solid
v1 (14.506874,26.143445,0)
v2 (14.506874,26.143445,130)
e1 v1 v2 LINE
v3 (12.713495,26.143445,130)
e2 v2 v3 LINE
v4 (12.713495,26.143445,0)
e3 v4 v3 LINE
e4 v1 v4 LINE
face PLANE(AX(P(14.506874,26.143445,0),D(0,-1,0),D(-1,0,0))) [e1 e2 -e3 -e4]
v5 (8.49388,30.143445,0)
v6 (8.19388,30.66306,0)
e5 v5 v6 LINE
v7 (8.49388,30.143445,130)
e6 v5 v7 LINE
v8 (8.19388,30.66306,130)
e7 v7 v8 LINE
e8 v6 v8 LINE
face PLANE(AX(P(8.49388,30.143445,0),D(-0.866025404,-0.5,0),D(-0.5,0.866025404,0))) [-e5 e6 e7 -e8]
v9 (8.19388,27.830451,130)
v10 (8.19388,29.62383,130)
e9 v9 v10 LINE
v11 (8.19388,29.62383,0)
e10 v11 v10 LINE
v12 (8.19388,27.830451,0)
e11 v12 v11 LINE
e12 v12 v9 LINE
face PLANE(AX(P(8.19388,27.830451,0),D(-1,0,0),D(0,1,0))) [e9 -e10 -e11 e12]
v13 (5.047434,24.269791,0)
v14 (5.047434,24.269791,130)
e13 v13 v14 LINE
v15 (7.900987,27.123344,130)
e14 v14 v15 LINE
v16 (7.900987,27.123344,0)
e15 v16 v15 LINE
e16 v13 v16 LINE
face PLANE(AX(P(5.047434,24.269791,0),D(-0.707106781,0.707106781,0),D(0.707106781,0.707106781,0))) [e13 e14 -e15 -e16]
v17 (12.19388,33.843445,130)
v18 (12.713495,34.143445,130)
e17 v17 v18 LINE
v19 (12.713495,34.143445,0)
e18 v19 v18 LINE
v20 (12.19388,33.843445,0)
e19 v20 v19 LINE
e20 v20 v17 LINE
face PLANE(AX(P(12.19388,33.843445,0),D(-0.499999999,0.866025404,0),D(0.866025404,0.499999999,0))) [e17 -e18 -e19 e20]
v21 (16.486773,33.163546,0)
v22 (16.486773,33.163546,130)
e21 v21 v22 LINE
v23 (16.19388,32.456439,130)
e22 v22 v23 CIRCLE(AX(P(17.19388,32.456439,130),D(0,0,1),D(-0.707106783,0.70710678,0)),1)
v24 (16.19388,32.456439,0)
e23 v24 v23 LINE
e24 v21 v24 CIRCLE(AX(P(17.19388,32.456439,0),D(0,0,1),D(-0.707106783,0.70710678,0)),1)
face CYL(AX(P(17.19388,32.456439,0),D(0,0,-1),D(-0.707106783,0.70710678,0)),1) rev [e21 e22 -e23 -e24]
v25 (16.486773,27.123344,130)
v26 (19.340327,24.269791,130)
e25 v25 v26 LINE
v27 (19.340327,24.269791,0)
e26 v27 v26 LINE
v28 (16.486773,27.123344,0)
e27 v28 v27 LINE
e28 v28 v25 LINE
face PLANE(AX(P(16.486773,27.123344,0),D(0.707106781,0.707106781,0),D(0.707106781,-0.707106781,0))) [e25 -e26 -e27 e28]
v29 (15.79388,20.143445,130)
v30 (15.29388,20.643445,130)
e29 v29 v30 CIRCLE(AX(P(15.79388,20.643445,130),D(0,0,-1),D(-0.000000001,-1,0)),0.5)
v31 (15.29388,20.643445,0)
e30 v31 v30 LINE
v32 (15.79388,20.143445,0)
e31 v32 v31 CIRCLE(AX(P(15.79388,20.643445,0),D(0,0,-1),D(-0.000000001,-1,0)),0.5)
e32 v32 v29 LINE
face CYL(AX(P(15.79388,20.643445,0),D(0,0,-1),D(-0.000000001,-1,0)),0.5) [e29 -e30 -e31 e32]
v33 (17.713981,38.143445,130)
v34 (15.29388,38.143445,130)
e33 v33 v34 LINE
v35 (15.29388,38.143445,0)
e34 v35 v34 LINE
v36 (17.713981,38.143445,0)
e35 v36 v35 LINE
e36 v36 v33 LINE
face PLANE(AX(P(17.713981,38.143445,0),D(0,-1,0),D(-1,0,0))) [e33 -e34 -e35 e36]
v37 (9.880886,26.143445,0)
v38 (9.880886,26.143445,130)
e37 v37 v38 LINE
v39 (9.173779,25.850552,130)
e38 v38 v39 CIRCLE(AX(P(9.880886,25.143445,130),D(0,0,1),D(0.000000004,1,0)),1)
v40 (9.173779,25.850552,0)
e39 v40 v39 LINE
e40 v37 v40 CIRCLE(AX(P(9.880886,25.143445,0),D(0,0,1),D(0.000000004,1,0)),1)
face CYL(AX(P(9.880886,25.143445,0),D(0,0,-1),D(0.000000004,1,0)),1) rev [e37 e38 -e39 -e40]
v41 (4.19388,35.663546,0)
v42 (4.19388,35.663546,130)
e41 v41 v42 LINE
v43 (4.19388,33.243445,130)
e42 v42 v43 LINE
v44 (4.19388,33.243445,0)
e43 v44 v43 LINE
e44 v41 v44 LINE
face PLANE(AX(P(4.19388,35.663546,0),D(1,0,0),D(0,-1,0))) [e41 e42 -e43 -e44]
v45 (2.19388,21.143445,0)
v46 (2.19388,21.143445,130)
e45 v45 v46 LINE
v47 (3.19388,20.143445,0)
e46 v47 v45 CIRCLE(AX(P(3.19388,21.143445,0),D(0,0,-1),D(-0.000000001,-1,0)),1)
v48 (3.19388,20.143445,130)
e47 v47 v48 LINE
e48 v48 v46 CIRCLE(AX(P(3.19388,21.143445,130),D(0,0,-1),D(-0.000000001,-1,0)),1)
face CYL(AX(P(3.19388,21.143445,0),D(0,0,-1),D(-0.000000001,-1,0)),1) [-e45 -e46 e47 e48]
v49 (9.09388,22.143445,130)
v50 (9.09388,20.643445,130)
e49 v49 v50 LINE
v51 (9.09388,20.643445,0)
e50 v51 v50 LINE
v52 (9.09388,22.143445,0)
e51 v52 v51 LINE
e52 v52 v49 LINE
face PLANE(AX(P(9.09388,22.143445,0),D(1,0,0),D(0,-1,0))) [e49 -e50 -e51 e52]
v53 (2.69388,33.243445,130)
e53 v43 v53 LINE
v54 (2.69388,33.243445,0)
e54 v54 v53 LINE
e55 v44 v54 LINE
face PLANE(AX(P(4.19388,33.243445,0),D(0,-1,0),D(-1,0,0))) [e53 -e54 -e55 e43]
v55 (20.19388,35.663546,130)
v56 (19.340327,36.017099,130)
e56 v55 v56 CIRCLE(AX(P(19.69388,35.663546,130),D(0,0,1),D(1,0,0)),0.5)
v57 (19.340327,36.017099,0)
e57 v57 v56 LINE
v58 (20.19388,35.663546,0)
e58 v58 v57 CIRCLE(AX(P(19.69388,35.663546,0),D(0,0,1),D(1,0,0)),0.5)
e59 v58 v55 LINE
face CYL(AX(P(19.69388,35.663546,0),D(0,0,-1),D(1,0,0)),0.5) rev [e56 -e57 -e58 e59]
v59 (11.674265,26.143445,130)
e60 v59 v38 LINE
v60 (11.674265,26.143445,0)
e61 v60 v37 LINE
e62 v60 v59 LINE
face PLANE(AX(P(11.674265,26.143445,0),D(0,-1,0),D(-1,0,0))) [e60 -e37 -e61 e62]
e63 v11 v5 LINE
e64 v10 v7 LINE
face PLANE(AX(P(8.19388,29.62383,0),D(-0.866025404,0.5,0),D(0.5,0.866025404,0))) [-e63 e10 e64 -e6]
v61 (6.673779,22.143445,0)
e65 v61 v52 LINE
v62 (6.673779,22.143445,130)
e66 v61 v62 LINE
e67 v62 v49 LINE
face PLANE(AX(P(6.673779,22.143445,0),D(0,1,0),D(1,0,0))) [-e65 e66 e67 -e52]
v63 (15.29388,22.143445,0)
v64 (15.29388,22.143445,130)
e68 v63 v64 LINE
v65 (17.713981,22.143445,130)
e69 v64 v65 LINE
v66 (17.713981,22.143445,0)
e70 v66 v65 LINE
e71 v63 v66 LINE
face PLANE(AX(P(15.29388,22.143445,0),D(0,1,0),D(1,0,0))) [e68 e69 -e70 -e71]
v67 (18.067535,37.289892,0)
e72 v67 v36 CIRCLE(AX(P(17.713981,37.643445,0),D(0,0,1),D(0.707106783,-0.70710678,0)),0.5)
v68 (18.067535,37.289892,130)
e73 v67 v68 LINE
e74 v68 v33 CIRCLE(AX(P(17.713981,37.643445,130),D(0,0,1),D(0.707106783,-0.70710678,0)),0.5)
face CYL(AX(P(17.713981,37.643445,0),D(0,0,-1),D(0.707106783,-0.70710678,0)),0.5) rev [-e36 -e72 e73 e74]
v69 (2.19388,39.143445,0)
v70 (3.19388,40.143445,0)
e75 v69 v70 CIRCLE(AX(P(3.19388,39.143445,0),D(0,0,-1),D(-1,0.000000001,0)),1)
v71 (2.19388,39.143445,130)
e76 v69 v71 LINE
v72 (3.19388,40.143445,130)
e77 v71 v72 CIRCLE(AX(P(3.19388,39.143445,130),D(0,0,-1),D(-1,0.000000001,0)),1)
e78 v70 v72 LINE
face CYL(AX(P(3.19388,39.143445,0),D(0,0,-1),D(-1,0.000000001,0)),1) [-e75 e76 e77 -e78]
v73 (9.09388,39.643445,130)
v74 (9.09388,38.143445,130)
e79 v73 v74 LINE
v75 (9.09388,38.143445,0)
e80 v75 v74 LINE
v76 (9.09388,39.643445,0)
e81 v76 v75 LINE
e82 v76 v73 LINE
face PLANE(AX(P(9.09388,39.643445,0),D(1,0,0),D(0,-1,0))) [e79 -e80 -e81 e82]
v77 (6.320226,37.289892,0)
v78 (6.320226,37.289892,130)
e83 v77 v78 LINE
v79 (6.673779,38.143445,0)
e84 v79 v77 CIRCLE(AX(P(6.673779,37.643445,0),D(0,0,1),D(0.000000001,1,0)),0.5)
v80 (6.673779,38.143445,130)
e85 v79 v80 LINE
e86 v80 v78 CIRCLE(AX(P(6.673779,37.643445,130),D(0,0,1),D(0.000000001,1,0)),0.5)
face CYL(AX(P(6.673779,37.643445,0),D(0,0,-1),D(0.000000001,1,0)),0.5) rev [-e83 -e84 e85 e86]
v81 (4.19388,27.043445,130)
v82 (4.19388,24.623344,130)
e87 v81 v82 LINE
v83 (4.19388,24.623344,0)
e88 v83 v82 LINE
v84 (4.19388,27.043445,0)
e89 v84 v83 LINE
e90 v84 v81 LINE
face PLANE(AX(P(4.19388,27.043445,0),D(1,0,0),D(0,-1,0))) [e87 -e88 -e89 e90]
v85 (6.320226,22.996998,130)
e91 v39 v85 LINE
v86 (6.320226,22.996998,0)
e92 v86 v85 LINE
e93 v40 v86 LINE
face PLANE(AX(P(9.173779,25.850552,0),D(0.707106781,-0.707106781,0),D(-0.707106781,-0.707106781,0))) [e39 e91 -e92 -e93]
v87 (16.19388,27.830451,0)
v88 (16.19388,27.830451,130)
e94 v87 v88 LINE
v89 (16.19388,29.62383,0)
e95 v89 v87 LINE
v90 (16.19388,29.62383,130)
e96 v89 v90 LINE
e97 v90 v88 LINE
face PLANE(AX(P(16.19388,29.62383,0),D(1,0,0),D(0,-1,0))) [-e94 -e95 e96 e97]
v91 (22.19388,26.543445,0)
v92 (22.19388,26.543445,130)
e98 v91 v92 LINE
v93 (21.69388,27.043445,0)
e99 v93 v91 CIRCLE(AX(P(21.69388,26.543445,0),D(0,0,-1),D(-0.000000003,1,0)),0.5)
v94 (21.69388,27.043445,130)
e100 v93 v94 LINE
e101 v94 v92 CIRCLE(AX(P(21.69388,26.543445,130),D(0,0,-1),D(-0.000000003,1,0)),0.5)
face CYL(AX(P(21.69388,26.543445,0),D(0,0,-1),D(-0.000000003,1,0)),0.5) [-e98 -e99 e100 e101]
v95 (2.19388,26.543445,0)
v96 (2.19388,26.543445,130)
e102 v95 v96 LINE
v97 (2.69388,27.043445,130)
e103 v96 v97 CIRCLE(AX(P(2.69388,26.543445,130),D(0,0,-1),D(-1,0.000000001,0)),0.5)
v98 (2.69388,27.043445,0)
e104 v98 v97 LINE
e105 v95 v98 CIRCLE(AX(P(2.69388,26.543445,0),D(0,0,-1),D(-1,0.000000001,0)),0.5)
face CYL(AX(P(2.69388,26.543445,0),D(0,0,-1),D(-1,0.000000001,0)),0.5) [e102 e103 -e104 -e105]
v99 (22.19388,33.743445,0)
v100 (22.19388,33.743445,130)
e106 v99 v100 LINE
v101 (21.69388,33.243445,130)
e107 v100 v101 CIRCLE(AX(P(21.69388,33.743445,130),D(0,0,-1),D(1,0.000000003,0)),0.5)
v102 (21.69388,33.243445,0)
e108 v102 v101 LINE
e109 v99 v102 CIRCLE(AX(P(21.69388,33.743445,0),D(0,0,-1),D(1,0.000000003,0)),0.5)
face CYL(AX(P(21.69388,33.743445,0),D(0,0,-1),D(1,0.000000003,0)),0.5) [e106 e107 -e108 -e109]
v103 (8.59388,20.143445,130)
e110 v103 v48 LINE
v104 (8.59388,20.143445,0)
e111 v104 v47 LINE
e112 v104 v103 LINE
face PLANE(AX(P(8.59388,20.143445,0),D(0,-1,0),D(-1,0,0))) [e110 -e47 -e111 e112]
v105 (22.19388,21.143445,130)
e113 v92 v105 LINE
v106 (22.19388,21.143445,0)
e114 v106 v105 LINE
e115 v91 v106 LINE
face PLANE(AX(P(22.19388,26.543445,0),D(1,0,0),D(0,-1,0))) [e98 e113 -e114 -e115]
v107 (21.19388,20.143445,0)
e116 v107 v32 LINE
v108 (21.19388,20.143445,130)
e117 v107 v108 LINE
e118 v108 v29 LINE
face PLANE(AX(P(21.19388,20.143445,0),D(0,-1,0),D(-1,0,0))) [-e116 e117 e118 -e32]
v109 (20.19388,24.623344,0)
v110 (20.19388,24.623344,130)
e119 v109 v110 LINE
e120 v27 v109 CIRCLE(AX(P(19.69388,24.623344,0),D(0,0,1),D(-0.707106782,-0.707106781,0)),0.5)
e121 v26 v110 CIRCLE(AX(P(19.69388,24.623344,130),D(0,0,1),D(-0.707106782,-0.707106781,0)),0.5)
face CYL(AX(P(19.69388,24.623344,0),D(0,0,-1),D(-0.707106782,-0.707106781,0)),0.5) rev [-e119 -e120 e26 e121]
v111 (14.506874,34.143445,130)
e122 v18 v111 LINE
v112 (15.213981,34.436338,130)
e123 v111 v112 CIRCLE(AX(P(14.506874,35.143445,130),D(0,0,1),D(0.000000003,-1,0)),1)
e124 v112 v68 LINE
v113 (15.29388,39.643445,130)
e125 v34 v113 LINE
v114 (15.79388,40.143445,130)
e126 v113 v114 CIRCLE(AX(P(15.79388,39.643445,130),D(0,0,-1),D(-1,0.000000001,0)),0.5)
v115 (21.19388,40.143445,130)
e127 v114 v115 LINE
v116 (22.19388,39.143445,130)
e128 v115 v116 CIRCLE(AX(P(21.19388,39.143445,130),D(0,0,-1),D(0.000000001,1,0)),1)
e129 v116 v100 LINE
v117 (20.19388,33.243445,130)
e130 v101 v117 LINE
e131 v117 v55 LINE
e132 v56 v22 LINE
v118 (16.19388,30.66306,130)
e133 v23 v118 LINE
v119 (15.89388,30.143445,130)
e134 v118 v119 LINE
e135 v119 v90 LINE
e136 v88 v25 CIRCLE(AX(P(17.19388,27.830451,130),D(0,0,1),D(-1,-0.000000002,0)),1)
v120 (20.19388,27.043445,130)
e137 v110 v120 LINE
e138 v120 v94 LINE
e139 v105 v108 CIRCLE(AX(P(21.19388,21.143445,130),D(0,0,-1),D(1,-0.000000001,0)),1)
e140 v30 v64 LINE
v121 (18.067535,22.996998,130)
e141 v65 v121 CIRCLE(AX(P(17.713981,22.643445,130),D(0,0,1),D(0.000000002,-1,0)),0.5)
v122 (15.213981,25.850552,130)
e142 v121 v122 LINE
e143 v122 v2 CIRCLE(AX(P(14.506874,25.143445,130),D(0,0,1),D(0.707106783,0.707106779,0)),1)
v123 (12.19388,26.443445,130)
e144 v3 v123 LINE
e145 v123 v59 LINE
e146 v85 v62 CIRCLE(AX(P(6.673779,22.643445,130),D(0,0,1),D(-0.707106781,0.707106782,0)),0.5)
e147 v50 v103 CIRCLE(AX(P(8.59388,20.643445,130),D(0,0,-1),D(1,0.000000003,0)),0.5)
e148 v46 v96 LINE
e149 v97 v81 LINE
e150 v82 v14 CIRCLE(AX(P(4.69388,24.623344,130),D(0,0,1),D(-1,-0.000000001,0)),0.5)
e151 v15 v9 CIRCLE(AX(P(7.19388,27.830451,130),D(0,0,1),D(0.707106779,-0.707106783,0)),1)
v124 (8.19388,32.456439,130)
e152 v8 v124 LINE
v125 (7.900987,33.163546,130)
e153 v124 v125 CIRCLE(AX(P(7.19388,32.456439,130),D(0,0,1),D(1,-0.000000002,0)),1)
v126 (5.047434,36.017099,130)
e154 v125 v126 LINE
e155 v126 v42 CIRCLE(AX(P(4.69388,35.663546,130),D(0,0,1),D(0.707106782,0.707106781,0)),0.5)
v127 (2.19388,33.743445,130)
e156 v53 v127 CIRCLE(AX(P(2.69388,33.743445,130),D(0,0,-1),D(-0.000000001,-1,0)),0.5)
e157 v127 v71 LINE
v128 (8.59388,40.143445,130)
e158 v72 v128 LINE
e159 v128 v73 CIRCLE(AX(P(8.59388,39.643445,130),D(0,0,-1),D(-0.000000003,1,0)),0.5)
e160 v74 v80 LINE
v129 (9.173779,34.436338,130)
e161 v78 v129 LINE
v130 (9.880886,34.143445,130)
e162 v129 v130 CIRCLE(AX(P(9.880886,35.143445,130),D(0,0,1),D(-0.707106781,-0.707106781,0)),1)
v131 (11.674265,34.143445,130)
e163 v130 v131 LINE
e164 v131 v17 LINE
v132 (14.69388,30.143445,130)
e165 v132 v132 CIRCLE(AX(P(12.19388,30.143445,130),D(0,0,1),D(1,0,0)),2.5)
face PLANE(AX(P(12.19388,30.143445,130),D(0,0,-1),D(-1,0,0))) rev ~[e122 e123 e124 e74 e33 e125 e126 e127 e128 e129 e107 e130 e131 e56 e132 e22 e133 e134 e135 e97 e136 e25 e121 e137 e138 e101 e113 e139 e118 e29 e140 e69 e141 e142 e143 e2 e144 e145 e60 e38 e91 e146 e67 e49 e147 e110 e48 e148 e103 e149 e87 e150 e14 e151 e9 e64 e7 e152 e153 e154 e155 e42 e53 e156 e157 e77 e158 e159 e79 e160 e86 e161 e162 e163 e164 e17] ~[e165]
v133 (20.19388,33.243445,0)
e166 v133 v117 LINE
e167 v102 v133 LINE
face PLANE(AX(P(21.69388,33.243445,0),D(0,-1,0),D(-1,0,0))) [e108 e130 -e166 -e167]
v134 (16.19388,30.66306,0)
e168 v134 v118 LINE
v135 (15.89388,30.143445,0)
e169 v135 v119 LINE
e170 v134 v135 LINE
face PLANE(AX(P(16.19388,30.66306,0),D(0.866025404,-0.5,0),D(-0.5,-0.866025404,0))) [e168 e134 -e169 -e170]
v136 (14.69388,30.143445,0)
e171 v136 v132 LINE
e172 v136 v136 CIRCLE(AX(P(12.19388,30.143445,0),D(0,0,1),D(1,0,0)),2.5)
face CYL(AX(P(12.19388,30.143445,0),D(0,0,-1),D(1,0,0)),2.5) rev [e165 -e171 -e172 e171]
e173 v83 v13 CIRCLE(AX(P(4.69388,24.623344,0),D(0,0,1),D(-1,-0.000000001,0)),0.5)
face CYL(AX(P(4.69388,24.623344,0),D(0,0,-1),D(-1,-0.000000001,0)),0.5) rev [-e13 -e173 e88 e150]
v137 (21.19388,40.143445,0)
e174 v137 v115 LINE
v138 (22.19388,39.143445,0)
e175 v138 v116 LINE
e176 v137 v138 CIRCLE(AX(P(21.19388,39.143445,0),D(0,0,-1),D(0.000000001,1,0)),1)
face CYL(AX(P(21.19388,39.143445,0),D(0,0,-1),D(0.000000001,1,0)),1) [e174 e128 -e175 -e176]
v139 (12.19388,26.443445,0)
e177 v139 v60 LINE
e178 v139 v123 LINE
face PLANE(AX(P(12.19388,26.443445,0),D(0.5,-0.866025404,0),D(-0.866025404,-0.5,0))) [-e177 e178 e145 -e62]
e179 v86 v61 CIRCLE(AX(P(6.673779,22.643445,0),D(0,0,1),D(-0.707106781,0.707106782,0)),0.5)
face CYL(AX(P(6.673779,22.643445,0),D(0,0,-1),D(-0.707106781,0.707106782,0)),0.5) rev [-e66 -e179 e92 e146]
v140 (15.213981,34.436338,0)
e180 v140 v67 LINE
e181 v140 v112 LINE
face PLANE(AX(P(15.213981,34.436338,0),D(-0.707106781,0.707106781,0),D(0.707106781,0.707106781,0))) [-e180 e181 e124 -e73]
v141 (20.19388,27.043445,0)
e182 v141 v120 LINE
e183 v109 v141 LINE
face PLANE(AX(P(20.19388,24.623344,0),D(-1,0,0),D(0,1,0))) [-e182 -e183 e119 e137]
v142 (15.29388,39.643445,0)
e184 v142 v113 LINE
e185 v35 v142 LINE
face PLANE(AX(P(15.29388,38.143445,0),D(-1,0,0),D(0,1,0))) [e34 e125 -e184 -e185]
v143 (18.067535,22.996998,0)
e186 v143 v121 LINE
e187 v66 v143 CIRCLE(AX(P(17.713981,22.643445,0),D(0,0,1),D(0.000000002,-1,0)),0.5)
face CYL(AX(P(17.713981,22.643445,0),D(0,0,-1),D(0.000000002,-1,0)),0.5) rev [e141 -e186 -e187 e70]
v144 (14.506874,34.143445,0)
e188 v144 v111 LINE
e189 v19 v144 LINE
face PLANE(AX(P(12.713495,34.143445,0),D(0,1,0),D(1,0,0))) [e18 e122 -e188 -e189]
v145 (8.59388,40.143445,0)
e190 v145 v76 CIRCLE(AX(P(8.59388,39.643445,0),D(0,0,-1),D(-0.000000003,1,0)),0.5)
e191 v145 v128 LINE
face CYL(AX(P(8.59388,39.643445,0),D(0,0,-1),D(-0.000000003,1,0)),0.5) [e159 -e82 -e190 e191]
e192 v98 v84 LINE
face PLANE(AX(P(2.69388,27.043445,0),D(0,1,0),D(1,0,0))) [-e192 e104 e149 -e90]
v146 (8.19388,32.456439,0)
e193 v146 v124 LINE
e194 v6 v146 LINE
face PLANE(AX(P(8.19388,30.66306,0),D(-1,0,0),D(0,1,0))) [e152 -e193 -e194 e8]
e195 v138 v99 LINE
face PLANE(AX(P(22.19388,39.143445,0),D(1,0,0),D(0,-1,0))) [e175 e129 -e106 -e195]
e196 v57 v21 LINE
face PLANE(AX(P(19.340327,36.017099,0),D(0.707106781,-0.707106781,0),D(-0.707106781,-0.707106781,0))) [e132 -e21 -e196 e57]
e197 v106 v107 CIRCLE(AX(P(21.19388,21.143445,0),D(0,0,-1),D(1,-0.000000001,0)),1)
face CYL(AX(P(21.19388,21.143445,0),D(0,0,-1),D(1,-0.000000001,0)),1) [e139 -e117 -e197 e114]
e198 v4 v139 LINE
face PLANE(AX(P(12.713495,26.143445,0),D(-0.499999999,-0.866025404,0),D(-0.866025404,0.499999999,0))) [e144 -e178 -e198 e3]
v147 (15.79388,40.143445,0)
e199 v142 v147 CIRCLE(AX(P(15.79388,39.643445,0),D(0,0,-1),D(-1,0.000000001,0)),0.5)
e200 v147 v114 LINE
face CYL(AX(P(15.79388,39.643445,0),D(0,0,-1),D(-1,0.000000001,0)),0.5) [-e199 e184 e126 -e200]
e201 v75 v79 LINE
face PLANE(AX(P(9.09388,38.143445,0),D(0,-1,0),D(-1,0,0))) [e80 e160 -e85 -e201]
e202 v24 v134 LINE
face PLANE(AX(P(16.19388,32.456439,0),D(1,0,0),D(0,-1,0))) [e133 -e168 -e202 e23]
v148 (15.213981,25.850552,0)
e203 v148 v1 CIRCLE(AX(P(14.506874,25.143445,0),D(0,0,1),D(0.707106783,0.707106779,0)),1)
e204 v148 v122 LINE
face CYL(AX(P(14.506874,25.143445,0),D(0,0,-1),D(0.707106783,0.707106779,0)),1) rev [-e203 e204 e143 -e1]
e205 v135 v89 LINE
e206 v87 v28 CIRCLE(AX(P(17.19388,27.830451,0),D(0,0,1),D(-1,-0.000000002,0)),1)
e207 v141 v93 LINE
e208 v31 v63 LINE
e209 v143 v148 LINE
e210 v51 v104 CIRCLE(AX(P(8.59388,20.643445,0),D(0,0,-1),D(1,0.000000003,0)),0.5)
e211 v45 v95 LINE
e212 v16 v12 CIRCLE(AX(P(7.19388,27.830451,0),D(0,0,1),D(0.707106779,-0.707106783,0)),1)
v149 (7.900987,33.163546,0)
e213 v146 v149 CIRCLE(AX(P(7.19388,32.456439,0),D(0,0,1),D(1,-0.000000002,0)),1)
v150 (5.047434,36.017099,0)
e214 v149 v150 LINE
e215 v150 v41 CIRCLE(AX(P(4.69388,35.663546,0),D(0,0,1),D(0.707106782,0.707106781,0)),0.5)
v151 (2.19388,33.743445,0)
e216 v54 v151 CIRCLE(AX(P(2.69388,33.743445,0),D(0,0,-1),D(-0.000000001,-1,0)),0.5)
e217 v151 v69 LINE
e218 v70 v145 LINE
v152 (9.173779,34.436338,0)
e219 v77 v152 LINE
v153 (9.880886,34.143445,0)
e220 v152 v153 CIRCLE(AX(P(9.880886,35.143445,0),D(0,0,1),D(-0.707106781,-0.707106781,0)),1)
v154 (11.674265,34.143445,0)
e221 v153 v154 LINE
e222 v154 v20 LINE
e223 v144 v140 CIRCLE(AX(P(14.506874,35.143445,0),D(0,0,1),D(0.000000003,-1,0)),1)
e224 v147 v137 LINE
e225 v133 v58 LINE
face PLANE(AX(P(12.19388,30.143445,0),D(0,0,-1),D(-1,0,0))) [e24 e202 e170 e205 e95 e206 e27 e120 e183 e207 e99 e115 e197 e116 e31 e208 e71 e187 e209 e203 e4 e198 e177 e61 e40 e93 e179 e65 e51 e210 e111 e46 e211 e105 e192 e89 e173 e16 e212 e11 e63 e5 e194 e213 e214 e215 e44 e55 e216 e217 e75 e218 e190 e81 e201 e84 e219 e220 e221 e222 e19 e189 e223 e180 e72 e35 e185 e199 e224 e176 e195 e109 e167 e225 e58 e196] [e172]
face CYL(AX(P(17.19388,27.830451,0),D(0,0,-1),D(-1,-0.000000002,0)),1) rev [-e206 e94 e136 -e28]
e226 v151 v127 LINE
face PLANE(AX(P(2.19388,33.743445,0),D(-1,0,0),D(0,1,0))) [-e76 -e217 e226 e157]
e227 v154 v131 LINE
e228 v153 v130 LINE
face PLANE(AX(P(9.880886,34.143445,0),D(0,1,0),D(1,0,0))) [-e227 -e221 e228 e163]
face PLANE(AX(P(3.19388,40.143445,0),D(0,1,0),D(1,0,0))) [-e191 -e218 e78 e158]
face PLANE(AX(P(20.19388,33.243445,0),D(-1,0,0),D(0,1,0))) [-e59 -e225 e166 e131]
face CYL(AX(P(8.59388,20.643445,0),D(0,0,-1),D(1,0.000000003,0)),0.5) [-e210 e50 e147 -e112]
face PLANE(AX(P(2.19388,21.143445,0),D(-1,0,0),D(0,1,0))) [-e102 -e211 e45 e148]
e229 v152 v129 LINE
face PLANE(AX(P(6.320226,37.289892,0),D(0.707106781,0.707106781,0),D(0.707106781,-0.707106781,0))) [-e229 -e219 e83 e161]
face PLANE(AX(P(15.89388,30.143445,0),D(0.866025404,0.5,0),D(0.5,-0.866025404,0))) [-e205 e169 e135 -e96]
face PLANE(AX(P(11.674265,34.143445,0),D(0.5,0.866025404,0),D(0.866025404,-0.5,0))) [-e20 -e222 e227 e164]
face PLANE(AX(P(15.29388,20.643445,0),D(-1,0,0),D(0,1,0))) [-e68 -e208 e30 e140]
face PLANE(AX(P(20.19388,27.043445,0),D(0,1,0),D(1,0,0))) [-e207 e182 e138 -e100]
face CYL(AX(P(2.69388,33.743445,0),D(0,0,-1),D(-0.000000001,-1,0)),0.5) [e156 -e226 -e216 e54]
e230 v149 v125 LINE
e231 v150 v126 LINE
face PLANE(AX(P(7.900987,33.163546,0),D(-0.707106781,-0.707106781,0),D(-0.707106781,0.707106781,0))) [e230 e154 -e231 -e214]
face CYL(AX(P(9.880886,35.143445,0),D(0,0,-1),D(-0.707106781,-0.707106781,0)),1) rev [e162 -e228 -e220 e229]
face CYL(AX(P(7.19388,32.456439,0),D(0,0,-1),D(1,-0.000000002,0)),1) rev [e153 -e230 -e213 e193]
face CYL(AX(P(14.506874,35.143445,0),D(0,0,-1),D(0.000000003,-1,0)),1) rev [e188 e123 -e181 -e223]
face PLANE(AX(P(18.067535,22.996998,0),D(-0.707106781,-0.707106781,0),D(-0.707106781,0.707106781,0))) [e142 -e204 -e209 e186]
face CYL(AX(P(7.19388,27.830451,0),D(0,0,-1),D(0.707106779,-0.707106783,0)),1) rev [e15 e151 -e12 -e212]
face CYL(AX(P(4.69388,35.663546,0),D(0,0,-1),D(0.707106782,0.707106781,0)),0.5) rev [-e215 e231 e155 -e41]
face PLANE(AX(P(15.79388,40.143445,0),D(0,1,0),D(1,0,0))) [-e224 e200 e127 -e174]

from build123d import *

# Parameters (mm, degrees)
SKETCH_1_R      = 2.5
EXTRUDE_1_DEPTH = 130


with BuildPart() as part:
    # 草图1 → 凸台-拉伸1 (new body)
    with BuildSketch(Plane.XY):
        with BuildLine():
            Line((16.486773435, 27.123343944), (19.340326826, 24.269790554))
            ThreePointArc((19.340326826, 24.269790554), (19.885221932, 24.161404178), (20.193880216, 24.623343944))
            Line((20.193880216, 24.623343944), (20.193880216, 27.043444957))
            Line((20.193880216, 27.043444957), (21.693880216, 27.043444957))
            ThreePointArc((21.693880216, 27.043444957), (22.047433607, 26.896998348), (22.193880216, 26.543444957))
            Line((22.193880216, 26.543444957), (22.193880216, 21.143444957))
            ThreePointArc((22.193880216, 21.143444957), (21.900986997, 20.436338176), (21.193880216, 20.143444957))
            Line((21.193880216, 20.143444957), (15.793880216, 20.143444957))
            ThreePointArc((15.793880216, 20.143444957), (15.440326826, 20.289891566), (15.293880216, 20.643444957))
            Line((15.293880216, 20.643444957), (15.293880216, 22.143444957))
            Line((15.293880216, 22.143444957), (17.713981229, 22.143444957))
            ThreePointArc((17.713981229, 22.143444957), (18.175920995, 22.452103241), (18.06753462, 22.996998348))
            Line((18.06753462, 22.996998348), (15.213981229, 25.850551738))
            ThreePointArc((15.213981229, 25.850551738), (14.88955788, 26.06732449), (14.506874448, 26.143444957))
            Line((14.506874448, 26.143444957), (12.713495459, 26.143444957))
            Line((12.713495459, 26.143444957), (12.193880216, 26.443444957))
            Line((12.193880216, 26.443444957), (11.674264974, 26.143444957))
            Line((11.674264974, 26.143444957), (9.880885985, 26.143444957))
            ThreePointArc((9.880885985, 26.143444957), (9.498202552, 26.06732449), (9.173779204, 25.850551738))
            Line((9.173779204, 25.850551738), (6.320225813, 22.996998348))
            ThreePointArc((6.320225813, 22.996998348), (6.211839437, 22.452103241), (6.673779204, 22.143444957))
            Line((6.673779204, 22.143444957), (9.093880216, 22.143444957))
            Line((9.093880216, 22.143444957), (9.093880216, 20.643444957))
            ThreePointArc((9.093880216, 20.643444957), (8.947433607, 20.289891566), (8.593880216, 20.143444957))
            Line((8.593880216, 20.143444957), (3.193880216, 20.143444957))
            ThreePointArc((3.193880216, 20.143444957), (2.486773435, 20.436338176), (2.193880216, 21.143444957))
            Line((2.193880216, 21.143444957), (2.193880216, 26.543444957))
            ThreePointArc((2.193880216, 26.543444957), (2.340326826, 26.896998348), (2.693880216, 27.043444957))
            Line((2.693880216, 27.043444957), (4.193880216, 27.043444957))
            Line((4.193880216, 27.043444957), (4.193880216, 24.623343944))
            ThreePointArc((4.193880216, 24.623343944), (4.5025385, 24.161404178), (5.047433607, 24.269790554))
            Line((5.047433607, 24.269790554), (7.900986997, 27.123343944))
            ThreePointArc((7.900986997, 27.123343944), (8.117759749, 27.447767293), (8.193880216, 27.830450726))
            Line((8.193880216, 27.830450726), (8.193880216, 29.623829715))
            Line((8.193880216, 29.623829715), (8.493880216, 30.143444957))
            Line((8.493880216, 30.143444957), (8.193880216, 30.663060199))
            Line((8.193880216, 30.663060199), (8.193880216, 32.456439189))
            ThreePointArc((8.193880216, 32.456439189), (8.117759749, 32.839122621), (7.900986997, 33.16354597))
            Line((7.900986997, 33.16354597), (5.047433607, 36.01709936))
            ThreePointArc((5.047433607, 36.01709936), (4.5025385, 36.125485736), (4.193880216, 35.66354597))
            Line((4.193880216, 35.66354597), (4.193880216, 33.243444957))
            Line((4.193880216, 33.243444957), (2.693880216, 33.243444957))
            ThreePointArc((2.693880216, 33.243444957), (2.340326826, 33.389891566), (2.193880216, 33.743444957))
            Line((2.193880216, 33.743444957), (2.193880216, 39.143444957))
            ThreePointArc((2.193880216, 39.143444957), (2.486773435, 39.850551738), (3.193880216, 40.143444957))
            Line((3.193880216, 40.143444957), (8.593880216, 40.143444957))
            ThreePointArc((8.593880216, 40.143444957), (8.947433607, 39.996998348), (9.093880216, 39.643444957))
            Line((9.093880216, 39.643444957), (9.093880216, 38.143444957))
            Line((9.093880216, 38.143444957), (6.673779204, 38.143444957))
            ThreePointArc((6.673779204, 38.143444957), (6.211839437, 37.834786673), (6.320225813, 37.289891566))
            Line((6.320225813, 37.289891566), (9.173779204, 34.436338176))
            ThreePointArc((9.173779204, 34.436338176), (9.498202552, 34.219565425), (9.880885985, 34.143444957))
            Line((9.880885985, 34.143444957), (11.674264974, 34.143444957))
            Line((11.674264974, 34.143444957), (12.193880216, 33.843444957))
            Line((12.193880216, 33.843444957), (12.713495459, 34.143444957))
            Line((12.713495459, 34.143444957), (14.506874448, 34.143444957))
            ThreePointArc((14.506874448, 34.143444957), (14.88955788, 34.219565425), (15.213981229, 34.436338176))
            Line((15.213981229, 34.436338176), (18.06753462, 37.289891566))
            ThreePointArc((18.06753462, 37.289891566), (18.175920995, 37.834786673), (17.713981229, 38.143444957))
            Line((17.713981229, 38.143444957), (15.293880216, 38.143444957))
            Line((15.293880216, 38.143444957), (15.293880216, 39.643444957))
            ThreePointArc((15.293880216, 39.643444957), (15.440326826, 39.996998348), (15.793880216, 40.143444957))
            Line((15.793880216, 40.143444957), (21.193880216, 40.143444957))
            ThreePointArc((21.193880216, 40.143444957), (21.900986997, 39.850551738), (22.193880216, 39.143444957))
            Line((22.193880216, 39.143444957), (22.193880216, 33.743444957))
            ThreePointArc((22.193880216, 33.743444957), (22.047433607, 33.389891566), (21.693880216, 33.243444957))
            Line((21.693880216, 33.243444957), (20.193880216, 33.243444957))
            Line((20.193880216, 33.243444957), (20.193880216, 35.66354597))
            ThreePointArc((20.193880216, 35.66354597), (19.885221932, 36.125485736), (19.340326826, 36.01709936))
            Line((19.340326826, 36.01709936), (16.486773435, 33.16354597))
            ThreePointArc((16.486773435, 33.16354597), (16.270000684, 32.839122621), (16.193880216, 32.456439189))
            Line((16.193880216, 32.456439189), (16.193880216, 30.663060199))
            Line((16.193880216, 30.663060199), (15.893880216, 30.143444957))
            Line((15.893880216, 30.143444957), (16.193880216, 29.623829715))
            Line((16.193880216, 29.623829715), (16.193880216, 27.830450726))
            ThreePointArc((16.193880216, 27.830450726), (16.270000684, 27.447767293), (16.486773435, 27.123343944))
        make_face()
        with Locations((12.193880216, 30.143444957)):
            Circle(SKETCH_1_R, mode=Mode.SUBTRACT)
    extrude(amount=EXTRUDE_1_DEPTH)


solid = part.part
